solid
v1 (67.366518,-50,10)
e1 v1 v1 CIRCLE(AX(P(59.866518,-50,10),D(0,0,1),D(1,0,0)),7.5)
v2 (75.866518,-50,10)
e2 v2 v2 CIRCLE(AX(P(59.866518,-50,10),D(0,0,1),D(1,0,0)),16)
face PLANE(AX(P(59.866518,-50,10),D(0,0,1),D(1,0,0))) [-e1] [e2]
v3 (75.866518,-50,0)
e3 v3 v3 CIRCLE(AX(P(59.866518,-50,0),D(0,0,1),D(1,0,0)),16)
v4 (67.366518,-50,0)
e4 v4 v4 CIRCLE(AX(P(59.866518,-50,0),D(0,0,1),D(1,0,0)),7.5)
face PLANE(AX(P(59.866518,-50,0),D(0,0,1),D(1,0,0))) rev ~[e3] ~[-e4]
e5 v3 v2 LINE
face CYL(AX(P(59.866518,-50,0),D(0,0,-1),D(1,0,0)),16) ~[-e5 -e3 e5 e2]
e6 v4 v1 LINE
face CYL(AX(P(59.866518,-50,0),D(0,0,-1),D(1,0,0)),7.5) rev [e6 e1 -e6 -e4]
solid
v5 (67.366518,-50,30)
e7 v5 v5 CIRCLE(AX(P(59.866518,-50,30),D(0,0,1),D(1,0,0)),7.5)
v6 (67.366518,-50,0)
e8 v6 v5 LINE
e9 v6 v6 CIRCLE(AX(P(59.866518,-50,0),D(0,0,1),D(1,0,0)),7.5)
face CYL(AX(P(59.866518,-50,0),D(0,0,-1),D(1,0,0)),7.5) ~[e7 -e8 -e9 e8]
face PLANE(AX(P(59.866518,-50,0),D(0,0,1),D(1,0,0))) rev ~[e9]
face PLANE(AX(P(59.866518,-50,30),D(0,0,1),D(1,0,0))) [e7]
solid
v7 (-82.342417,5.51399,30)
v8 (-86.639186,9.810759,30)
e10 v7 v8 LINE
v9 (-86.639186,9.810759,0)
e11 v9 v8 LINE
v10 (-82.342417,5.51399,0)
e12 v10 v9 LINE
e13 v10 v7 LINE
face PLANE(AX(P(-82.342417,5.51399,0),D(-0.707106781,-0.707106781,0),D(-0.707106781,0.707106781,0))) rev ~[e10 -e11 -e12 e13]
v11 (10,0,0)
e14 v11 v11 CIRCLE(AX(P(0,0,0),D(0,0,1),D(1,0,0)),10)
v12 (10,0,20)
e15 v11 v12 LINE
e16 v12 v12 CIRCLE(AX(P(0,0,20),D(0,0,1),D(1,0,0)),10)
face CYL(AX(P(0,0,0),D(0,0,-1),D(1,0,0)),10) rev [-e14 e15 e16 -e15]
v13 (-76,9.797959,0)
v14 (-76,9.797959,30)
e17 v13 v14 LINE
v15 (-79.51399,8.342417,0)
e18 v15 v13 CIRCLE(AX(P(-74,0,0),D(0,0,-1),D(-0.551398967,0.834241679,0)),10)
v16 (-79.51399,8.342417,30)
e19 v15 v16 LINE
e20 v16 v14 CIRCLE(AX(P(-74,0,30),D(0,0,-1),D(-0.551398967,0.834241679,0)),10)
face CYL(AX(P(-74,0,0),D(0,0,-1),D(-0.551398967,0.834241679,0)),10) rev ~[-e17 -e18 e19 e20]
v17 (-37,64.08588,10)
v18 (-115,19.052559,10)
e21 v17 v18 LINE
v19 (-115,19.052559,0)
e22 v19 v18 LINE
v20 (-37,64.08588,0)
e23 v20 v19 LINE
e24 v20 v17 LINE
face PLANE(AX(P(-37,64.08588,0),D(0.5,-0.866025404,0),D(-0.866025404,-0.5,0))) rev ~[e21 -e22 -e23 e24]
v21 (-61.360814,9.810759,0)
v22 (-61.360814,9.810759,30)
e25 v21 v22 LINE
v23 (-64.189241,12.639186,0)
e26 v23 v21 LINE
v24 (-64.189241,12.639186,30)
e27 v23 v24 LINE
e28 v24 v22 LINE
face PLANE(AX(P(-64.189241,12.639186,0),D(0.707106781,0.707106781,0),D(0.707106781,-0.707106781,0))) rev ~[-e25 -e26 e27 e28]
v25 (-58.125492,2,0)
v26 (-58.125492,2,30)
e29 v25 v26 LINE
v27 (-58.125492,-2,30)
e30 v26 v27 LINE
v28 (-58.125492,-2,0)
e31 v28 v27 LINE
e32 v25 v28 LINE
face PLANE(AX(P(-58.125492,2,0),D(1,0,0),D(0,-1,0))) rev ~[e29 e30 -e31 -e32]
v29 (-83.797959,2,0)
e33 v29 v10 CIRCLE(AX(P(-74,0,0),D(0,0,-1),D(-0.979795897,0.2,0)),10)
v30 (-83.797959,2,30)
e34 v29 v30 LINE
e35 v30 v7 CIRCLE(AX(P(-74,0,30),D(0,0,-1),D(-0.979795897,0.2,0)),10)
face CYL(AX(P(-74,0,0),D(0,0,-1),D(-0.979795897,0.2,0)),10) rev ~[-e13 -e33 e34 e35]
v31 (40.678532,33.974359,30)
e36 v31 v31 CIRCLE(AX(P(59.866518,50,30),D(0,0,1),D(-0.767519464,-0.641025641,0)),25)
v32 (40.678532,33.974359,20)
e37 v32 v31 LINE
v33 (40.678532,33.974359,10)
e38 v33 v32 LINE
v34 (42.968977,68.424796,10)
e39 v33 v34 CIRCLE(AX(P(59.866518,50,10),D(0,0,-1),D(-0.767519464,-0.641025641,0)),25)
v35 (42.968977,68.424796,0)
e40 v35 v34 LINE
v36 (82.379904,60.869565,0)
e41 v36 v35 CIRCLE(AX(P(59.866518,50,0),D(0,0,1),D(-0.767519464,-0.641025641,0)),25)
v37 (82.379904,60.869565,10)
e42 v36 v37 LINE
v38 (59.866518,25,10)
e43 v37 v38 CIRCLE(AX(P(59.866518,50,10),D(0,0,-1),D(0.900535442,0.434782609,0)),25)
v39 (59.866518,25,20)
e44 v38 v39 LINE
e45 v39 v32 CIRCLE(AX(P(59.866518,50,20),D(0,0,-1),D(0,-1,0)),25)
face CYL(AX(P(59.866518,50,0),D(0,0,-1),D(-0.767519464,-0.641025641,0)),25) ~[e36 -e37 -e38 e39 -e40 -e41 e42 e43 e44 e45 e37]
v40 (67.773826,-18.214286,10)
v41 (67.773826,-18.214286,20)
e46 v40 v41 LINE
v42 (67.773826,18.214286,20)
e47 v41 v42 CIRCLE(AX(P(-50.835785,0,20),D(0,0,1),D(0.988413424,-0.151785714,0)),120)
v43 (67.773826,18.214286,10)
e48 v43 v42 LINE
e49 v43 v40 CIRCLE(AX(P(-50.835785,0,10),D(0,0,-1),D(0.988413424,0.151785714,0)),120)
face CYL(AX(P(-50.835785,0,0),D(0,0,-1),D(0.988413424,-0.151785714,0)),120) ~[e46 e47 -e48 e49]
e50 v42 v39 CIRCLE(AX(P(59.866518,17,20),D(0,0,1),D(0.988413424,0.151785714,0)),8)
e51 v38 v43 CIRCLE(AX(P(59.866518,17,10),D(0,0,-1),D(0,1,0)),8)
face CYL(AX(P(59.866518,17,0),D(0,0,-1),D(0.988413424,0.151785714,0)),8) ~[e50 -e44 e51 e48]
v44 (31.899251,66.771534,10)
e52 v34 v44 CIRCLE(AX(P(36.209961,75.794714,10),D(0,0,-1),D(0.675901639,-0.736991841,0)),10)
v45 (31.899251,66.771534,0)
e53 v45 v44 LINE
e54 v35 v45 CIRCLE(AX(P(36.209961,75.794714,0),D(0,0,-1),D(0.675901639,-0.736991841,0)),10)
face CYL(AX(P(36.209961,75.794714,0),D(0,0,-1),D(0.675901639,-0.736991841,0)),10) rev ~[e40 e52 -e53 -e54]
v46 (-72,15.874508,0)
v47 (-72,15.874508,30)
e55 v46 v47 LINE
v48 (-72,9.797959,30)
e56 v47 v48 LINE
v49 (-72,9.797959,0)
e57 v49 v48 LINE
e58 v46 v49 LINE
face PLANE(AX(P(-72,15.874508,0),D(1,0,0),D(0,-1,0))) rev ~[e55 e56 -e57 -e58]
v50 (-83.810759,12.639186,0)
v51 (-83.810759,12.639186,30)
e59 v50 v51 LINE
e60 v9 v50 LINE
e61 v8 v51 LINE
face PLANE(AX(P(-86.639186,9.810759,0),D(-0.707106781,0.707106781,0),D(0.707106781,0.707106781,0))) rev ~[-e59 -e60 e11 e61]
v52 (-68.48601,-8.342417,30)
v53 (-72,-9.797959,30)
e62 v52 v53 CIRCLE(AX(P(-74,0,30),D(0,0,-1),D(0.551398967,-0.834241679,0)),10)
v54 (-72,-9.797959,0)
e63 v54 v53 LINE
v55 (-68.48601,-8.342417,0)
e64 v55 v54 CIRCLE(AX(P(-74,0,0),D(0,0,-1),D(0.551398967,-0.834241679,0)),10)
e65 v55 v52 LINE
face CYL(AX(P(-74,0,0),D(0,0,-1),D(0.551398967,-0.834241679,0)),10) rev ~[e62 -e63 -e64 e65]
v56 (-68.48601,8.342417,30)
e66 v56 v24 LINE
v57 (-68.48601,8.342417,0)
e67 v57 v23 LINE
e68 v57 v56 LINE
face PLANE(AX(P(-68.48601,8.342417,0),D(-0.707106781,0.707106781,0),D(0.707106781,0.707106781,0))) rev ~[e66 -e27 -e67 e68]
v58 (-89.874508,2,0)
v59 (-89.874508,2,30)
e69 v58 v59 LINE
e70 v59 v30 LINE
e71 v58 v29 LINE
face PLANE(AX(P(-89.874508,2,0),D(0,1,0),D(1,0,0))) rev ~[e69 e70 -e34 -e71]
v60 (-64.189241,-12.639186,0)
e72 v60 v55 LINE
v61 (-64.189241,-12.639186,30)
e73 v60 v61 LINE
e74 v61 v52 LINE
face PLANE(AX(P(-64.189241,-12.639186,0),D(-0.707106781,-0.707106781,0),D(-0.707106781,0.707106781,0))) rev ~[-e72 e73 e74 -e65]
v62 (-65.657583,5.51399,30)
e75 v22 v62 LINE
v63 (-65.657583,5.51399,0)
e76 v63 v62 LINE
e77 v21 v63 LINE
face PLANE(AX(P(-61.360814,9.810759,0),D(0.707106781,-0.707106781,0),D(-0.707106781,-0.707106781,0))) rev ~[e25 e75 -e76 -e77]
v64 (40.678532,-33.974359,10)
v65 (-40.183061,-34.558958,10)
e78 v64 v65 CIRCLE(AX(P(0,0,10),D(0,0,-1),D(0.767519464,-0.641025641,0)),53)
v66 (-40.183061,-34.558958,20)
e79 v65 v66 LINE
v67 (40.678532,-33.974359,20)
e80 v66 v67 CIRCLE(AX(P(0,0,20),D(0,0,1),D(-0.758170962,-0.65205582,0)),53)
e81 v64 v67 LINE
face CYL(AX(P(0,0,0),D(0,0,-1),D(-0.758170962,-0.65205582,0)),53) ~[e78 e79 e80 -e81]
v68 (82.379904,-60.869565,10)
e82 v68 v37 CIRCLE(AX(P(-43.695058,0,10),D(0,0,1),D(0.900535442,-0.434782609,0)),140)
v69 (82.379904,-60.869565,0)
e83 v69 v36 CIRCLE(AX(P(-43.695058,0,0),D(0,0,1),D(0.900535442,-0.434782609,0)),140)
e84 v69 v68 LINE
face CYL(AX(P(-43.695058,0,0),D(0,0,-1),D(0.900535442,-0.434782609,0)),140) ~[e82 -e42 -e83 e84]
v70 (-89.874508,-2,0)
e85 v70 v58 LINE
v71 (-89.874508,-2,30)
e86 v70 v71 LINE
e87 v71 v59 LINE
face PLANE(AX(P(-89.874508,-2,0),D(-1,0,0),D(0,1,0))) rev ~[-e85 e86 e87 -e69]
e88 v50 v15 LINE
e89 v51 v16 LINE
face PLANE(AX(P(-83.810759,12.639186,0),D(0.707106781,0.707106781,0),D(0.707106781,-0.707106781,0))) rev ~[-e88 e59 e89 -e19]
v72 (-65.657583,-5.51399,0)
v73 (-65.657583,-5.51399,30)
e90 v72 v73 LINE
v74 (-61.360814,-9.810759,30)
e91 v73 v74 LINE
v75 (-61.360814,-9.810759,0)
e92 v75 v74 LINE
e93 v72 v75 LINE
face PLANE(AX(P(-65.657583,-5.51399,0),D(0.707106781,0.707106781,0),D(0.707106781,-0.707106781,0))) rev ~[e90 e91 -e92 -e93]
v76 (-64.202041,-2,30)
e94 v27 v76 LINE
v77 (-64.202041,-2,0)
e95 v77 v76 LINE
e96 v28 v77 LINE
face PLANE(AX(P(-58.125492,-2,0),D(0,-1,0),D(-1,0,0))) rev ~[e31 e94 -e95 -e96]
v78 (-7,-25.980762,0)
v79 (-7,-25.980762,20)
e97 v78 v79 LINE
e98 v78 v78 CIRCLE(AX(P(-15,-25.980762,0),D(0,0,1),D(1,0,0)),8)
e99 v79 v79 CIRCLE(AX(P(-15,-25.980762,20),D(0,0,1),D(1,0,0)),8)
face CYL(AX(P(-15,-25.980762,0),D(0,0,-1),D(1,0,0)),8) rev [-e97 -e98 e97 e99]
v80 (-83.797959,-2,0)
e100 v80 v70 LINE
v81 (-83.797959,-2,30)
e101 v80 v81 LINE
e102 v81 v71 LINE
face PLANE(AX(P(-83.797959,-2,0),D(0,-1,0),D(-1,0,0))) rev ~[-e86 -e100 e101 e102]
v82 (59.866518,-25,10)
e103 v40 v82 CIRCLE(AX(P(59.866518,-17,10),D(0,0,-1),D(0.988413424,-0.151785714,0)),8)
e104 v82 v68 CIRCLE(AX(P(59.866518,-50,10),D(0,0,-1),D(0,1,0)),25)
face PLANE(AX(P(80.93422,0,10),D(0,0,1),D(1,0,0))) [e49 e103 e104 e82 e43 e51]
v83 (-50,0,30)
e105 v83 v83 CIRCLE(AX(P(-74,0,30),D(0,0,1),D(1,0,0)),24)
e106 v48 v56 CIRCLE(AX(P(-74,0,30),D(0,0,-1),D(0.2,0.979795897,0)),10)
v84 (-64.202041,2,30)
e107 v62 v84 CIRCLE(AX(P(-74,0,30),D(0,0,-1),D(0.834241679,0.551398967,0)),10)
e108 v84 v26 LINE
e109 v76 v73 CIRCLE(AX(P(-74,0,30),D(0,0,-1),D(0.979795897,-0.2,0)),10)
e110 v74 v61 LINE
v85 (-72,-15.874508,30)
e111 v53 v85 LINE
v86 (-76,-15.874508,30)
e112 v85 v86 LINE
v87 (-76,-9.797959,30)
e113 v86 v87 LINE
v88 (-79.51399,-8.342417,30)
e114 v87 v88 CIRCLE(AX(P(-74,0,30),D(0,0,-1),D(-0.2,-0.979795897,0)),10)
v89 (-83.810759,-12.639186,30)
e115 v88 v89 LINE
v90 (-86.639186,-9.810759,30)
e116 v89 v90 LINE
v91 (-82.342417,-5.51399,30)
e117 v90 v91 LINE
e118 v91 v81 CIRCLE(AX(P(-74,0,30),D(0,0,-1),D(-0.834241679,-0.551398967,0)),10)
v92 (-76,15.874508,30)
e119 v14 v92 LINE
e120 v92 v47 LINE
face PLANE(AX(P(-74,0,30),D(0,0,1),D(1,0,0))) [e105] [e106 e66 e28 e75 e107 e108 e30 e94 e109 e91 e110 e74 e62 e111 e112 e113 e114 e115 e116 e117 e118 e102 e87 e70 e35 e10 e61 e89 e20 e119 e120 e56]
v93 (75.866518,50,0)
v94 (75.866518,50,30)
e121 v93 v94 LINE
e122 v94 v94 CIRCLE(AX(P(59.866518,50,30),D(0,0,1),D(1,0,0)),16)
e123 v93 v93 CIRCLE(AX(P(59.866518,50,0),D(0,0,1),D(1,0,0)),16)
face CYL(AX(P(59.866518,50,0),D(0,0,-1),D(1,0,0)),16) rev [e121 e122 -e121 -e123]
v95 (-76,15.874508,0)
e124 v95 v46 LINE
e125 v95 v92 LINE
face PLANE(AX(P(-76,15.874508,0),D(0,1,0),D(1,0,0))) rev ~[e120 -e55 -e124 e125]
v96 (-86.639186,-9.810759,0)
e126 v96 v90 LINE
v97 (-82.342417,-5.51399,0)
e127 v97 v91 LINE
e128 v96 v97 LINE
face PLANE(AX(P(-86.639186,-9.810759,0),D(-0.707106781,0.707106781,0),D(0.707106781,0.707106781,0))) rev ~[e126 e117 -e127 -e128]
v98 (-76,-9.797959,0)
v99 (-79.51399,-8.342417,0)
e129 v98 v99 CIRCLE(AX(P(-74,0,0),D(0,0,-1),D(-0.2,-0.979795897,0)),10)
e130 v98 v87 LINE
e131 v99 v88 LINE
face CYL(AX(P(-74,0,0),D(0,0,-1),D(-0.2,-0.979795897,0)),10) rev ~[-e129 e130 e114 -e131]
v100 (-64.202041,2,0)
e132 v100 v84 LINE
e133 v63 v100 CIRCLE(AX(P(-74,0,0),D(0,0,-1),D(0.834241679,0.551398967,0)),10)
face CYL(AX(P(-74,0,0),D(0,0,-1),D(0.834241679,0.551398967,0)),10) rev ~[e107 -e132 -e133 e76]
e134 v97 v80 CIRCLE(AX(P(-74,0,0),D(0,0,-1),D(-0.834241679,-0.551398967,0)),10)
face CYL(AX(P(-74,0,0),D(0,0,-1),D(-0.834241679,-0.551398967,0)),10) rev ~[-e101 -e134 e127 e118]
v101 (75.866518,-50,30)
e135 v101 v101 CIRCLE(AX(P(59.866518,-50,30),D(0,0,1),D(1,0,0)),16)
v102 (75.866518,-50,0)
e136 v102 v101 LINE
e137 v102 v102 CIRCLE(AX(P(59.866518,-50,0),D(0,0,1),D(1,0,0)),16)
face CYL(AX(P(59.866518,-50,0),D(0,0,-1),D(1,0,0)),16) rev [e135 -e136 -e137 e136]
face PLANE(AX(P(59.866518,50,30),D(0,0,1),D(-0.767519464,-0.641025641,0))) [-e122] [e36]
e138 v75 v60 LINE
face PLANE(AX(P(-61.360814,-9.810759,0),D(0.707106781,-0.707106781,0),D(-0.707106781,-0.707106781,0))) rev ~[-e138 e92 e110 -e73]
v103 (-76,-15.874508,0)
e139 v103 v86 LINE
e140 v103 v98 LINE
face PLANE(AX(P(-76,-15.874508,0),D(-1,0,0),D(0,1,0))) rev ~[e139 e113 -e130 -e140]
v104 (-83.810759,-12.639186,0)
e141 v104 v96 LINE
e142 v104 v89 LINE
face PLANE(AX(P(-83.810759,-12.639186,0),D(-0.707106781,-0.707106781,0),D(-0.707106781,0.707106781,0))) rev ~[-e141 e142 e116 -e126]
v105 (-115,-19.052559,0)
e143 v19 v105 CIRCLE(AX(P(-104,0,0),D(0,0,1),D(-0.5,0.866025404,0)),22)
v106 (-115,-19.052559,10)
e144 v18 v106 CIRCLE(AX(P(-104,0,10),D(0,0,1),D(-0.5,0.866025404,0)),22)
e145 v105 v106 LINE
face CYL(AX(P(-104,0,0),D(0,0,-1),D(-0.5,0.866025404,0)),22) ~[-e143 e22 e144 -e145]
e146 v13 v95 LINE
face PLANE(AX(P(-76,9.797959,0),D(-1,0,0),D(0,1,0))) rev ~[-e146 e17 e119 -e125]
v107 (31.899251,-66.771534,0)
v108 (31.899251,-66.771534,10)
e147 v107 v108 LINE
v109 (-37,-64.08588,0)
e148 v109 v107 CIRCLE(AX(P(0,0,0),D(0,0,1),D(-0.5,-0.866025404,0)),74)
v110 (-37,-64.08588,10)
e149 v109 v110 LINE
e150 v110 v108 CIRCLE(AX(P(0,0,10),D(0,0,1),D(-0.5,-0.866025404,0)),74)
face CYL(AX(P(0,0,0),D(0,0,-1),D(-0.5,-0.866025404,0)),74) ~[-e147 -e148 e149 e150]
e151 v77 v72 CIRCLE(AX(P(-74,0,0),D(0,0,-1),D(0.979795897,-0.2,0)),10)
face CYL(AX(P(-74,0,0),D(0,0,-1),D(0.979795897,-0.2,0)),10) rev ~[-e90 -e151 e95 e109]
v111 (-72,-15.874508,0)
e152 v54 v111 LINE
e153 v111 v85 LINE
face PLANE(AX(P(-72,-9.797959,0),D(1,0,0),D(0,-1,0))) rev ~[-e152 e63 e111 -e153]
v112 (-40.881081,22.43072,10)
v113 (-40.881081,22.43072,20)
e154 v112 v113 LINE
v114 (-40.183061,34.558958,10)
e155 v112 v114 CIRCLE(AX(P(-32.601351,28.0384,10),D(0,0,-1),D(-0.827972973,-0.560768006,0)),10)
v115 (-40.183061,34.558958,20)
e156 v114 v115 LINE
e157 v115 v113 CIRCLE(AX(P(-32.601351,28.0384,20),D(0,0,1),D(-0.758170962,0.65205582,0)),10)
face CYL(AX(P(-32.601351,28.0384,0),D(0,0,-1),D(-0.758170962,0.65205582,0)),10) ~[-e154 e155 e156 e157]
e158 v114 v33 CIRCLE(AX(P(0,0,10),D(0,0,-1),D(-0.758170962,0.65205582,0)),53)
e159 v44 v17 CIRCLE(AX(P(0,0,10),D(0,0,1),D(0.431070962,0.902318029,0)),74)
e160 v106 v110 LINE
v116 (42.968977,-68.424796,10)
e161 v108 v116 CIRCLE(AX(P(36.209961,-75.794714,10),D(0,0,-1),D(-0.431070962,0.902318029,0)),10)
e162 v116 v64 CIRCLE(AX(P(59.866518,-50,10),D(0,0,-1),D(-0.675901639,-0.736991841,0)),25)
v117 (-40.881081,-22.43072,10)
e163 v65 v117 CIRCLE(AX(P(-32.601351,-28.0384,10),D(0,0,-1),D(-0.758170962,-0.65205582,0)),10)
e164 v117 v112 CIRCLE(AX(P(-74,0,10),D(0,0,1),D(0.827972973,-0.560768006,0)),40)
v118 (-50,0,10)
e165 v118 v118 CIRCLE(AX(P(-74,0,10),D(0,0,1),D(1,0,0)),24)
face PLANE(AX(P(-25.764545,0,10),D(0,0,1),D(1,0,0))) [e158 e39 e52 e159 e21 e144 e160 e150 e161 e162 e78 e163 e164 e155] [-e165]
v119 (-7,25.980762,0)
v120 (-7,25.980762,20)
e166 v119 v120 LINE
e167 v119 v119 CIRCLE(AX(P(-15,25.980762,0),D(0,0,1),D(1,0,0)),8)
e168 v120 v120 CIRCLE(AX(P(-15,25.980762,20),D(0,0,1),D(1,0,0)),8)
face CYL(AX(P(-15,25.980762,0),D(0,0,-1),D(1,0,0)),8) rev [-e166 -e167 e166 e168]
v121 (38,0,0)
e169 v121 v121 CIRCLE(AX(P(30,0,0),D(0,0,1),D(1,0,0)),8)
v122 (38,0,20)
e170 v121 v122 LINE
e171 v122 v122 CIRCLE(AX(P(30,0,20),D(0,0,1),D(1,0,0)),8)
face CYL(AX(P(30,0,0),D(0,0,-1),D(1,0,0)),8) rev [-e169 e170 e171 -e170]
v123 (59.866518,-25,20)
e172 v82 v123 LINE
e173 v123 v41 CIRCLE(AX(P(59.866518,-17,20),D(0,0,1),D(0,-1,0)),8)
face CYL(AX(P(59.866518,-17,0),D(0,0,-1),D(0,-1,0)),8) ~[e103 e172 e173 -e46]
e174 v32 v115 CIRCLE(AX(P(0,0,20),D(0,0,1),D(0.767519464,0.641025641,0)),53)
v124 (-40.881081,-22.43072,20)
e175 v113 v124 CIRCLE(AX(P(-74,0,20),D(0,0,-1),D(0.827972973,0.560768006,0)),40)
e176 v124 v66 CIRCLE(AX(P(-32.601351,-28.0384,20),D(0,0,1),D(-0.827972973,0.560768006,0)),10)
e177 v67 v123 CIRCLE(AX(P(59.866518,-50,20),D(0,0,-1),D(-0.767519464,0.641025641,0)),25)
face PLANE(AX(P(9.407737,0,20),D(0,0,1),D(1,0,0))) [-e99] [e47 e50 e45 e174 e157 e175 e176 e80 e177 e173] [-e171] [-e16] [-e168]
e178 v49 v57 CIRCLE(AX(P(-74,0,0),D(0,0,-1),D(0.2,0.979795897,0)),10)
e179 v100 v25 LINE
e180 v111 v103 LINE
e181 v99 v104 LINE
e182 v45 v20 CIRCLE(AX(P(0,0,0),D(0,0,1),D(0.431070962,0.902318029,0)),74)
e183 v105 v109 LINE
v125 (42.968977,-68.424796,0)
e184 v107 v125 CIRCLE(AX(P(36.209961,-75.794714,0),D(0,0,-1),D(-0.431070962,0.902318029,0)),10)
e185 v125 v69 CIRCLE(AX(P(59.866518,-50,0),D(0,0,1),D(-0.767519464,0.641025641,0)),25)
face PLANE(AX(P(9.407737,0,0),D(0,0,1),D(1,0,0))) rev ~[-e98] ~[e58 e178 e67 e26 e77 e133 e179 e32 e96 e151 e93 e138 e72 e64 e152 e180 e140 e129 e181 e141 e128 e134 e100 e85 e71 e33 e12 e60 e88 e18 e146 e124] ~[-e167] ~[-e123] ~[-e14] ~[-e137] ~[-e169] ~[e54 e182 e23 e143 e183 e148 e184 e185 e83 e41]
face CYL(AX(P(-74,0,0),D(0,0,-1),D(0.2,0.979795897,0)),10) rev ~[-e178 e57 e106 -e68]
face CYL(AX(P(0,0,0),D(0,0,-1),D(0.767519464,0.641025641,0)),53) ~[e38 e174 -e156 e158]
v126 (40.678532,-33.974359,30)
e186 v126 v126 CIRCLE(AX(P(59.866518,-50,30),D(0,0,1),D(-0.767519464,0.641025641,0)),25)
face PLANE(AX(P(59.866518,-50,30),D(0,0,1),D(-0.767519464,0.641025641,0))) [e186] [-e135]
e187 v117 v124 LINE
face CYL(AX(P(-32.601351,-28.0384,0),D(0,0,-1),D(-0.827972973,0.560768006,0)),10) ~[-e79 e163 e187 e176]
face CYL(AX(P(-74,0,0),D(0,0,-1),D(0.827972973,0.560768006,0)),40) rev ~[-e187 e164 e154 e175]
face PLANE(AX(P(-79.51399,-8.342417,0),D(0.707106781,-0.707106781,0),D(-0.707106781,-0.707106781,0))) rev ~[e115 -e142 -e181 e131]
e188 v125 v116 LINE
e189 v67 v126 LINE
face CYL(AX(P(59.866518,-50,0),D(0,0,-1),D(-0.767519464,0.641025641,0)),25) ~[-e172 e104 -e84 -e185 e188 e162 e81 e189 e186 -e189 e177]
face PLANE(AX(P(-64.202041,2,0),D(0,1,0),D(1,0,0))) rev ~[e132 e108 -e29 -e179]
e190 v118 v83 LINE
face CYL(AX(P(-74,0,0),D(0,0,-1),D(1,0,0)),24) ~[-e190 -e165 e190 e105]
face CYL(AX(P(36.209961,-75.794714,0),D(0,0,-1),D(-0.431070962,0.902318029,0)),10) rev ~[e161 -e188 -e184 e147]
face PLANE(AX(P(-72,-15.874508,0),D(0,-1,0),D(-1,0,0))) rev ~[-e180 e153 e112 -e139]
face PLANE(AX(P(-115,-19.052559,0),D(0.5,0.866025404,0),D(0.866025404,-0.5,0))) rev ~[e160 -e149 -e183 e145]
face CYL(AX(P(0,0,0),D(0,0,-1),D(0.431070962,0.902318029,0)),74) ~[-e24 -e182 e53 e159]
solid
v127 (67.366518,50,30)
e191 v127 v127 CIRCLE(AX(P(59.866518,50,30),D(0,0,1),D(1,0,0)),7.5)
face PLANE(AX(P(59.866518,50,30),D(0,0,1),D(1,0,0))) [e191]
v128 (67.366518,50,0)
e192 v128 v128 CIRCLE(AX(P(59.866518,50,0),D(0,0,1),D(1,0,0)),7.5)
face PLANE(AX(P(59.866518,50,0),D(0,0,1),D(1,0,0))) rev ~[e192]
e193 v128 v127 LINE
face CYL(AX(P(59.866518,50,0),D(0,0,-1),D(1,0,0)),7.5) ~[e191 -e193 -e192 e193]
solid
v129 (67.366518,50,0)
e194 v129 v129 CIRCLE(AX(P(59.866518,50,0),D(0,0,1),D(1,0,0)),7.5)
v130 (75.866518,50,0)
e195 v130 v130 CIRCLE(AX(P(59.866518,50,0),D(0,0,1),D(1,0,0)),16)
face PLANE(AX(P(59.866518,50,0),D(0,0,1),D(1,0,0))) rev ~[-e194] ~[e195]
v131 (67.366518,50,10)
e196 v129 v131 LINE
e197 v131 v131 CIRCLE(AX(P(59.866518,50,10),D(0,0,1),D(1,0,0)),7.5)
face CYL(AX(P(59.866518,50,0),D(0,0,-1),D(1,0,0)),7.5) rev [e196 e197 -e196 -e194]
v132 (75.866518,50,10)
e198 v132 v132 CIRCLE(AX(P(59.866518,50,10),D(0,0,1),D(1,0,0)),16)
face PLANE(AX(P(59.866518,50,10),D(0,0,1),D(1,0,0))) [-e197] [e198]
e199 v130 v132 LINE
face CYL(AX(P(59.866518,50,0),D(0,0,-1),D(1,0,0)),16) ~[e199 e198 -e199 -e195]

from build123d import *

# Parameters (mm, degrees)
SKETCH_1_R        = 24
EXTRUDE_1_DEPTH   = 10
EXTRUDE_1_2_DEPTH = 10
SKETCH_1_R_2      = 16
SKETCH_1_R_3      = 7.5
EXTRUDE_1_3_DEPTH = 10
EXTRUDE_1_4_DEPTH = 10
SKETCH_1_3_R      = 8
SKETCH_1_3_R_2    = 10
EXTRUDE_2_DEPTH   = 20
SKETCH_1_4_R      = 24
SKETCH_1_4_R_2    = 25
SKETCH_1_4_R_3    = 16
SKETCH_1_4_R_4    = 7.5
EXTRUDE_3_DEPTH   = 30


with BuildPart() as part:
    # Эскиз1 → Бобышка-Вытянуть1 (new body)
    with BuildSketch(Plane.XY):
        with BuildLine():
            Line((-37, 64.08587988), (-115, 19.052558883))
            ThreePointArc((-115, 19.052558883), (-126, 0), (-115, -19.052558883))
            Line((-115, -19.052558883), (-37, -64.08587988))
            ThreePointArc((-37, -64.08587988), (-2.882289769, -73.9438463), (31.899251195, -66.771534153))
            ThreePointArc((31.899251195, -66.771534153), (37.687076323, -65.904409607), (42.968977208, -68.424796032))
            ThreePointArc((42.968977208, -68.424796032), (34.921589274, -51.658469616), (40.67853159, -33.974358974))
            ThreePointArc((40.67853159, -33.974358974), (0.383160449, -52.998614964), (-40.183060968, -34.55895848))
            ThreePointArc((-40.183060968, -34.55895848), (-42.584830472, -28.612982427), (-40.881081081, -22.430720221))
            ThreePointArc((-40.881081081, -22.430720221), (-34, 0), (-40.881081081, 22.430720221))
            ThreePointArc((-40.881081081, 22.430720221), (-42.584830472, 28.612982427), (-40.183060968, 34.55895848))
            ThreePointArc((-40.183060968, 34.55895848), (0.383160449, 52.998614964), (40.67853159, 33.974358974))
            ThreePointArc((40.67853159, 33.974358974), (34.921589274, 51.658469616), (42.968977208, 68.424796032))
            ThreePointArc((42.968977208, 68.424796032), (37.687076323, 65.904409607), (31.899251195, 66.771534153))
            ThreePointArc((31.899251195, 66.771534153), (-2.882289769, 73.9438463), (-37, 64.08587988))
        make_face()
        with Locations((-74, 0)):
            Circle(SKETCH_1_R, mode=Mode.SUBTRACT)
    extrude(amount=EXTRUDE_1_DEPTH)



with BuildPart() as body_2:
    # Эскиз1 → Extrude 1 2 (new body)
    with BuildSketch(Plane.XY):
        with BuildLine():
            ThreePointArc((82.379904251, -60.869565217), (96.304942302, 0), (82.379904251, 60.869565217))
            ThreePointArc((82.379904251, 60.869565217), (81.041257035, 36.709761673), (59.866518188, 25))
            ThreePointArc((59.866518188, 25), (65.076398911, 23.071008389), (67.773825581, 18.214285714))
            ThreePointArc((67.773825581, 18.214285714), (69.164214689, 0), (67.773825581, -18.214285714))
            ThreePointArc((67.773825581, -18.214285714), (65.076398911, -23.071008389), (59.866518188, -25))
            ThreePointArc((59.866518188, -25), (81.041257035, -36.709761673), (82.379904251, -60.869565217))
        make_face()
    extrude(amount=EXTRUDE_1_2_DEPTH)


with BuildPart() as body_3:
    # Эскиз1 → Extrude 1 3 (new body)
    with BuildSketch(Plane.XY):
        with Locations((59.866518188, 50)):
            Circle(SKETCH_1_R_2)
        with Locations((59.866518188, 50)):
            Circle(SKETCH_1_R_3, mode=Mode.SUBTRACT)
    extrude(amount=EXTRUDE_1_3_DEPTH)


with BuildPart() as body_4:
    # Эскиз1 → Extrude 1 4 (new body)
    with BuildSketch(Plane.XY):
        with Locations((59.866518188, -50)):
            Circle(SKETCH_1_R_2)
        with Locations((59.866518188, -50)):
            Circle(SKETCH_1_R_3, mode=Mode.SUBTRACT)
    extrude(amount=EXTRUDE_1_4_DEPTH)


with BuildPart() as part_1:
    add(part.part)

    add(body_2.part)  # Бобышка-Вытянуть2 merges body 2
    # Эскиз1<3> → Бобышка-Вытянуть2 (add)
    with BuildSketch(Plane.XY):
        with BuildLine():
            ThreePointArc((59.866518188, 25), (49.275036367, 27.354459317), (40.67853159, 33.974358974))
            ThreePointArc((40.67853159, 33.974358974), (0.383160449, 52.998614964), (-40.183060968, 34.55895848))
            ThreePointArc((-40.183060968, 34.55895848), (-42.584830472, 28.612982427), (-40.881081081, 22.430720221))
            ThreePointArc((-40.881081081, 22.430720221), (-34, 0), (-40.881081081, -22.430720221))
            ThreePointArc((-40.881081081, -22.430720221), (-42.584830472, -28.612982427), (-40.183060968, -34.55895848))
            ThreePointArc((-40.183060968, -34.55895848), (0.383160449, -52.998614964), (40.67853159, -33.974358974))
            ThreePointArc((40.67853159, -33.974358974), (49.275036367, -27.354459317), (59.866518188, -25))
            ThreePointArc((59.866518188, -25), (65.076398911, -23.071008389), (67.773825581, -18.214285714))
            ThreePointArc((67.773825581, -18.214285714), (69.164214689, 0), (67.773825581, 18.214285714))
            ThreePointArc((67.773825581, 18.214285714), (65.076398911, 23.071008389), (59.866518188, 25))
        make_face()
        with Locations((-15, -25.980762114)):
            Circle(SKETCH_1_3_R, mode=Mode.SUBTRACT)
        with Locations((-15, 25.980762114)):
            Circle(SKETCH_1_3_R, mode=Mode.SUBTRACT)
        Circle(SKETCH_1_3_R_2, mode=Mode.SUBTRACT)
        with Locations((30, 0)):
            Circle(SKETCH_1_3_R, mode=Mode.SUBTRACT)
    extrude(amount=EXTRUDE_2_DEPTH)

    # Эскиз1<4> → Бобышка-Вытянуть3 (add)
    # profile 1 of 5: a face of its own
    with BuildSketch(Plane.XY):
        with Locations((-74, 0)):
            Circle(SKETCH_1_4_R)
        with BuildLine():
            Line((-82.342416793, 5.513989668), (-86.639185723, 9.810758598))
            Line((-86.639185723, 9.810758598), (-83.810758598, 12.639185723))
            Line((-83.810758598, 12.639185723), (-79.513989668, 8.342416793))
            ThreePointArc((-79.513989668, 8.342416793), (-77.826834324, 9.238795325), (-76, 9.797958971))
            Line((-76, 9.797958971), (-76, 15.874507866))
            Line((-76, 15.874507866), (-72, 15.874507866))
            Line((-72, 15.874507866), (-72, 9.797958971))
            ThreePointArc((-72, 9.797958971), (-70.173165676, 9.238795325), (-68.486010332, 8.342416793))
            Line((-68.486010332, 8.342416793), (-64.189241402, 12.639185723))
            Line((-64.189241402, 12.639185723), (-61.360814277, 9.810758598))
            Line((-61.360814277, 9.810758598), (-65.657583207, 5.513989668))
            ThreePointArc((-65.657583207, 5.513989668), (-64.761204675, 3.826834324), (-64.202041029, 2))
            Line((-64.202041029, 2), (-58.125492134, 2))
            Line((-58.125492134, 2), (-58.125492134, -2))
            Line((-58.125492134, -2), (-64.202041029, -2))
            ThreePointArc((-64.202041029, -2), (-64.761204675, -3.826834324), (-65.657583207, -5.513989668))
            Line((-65.657583207, -5.513989668), (-61.360814277, -9.810758598))
            Line((-61.360814277, -9.810758598), (-64.189241402, -12.639185723))
            Line((-64.189241402, -12.639185723), (-68.486010332, -8.342416793))
            ThreePointArc((-68.486010332, -8.342416793), (-70.173165676, -9.238795325), (-72, -9.797958971))
            Line((-72, -9.797958971), (-72, -15.874507866))
            Line((-72, -15.874507866), (-76, -15.874507866))
            Line((-76, -15.874507866), (-76, -9.797958971))
            ThreePointArc((-76, -9.797958971), (-77.826834324, -9.238795325), (-79.513989668, -8.342416793))
            Line((-79.513989668, -8.342416793), (-83.810758598, -12.639185723))
            Line((-83.810758598, -12.639185723), (-86.639185723, -9.810758598))
            Line((-86.639185723, -9.810758598), (-82.342416793, -5.513989668))
            ThreePointArc((-82.342416793, -5.513989668), (-83.238795325, -3.826834324), (-83.797958971, -2))
            Line((-83.797958971, -2), (-89.874507866, -2))
            Line((-89.874507866, -2), (-89.874507866, 2))
            Line((-89.874507866, 2), (-83.797958971, 2))
            ThreePointArc((-83.797958971, 2), (-83.238795325, 3.826834324), (-82.342416793, 5.513989668))
        make_face(mode=Mode.SUBTRACT)
    # profile 2 of 5: a face of its own
    with BuildSketch(Plane.XY):
        with Locations(Location((59.866518188, -50, 0), (0, 0, 140.13165845))):
            Circle(SKETCH_1_4_R_2)
        with Locations((59.866518188, -50)):
            Circle(SKETCH_1_4_R_3, mode=Mode.SUBTRACT)
    # profile 3 of 5: a face of its own
    with BuildSketch(Plane.XY):
        with Locations(Location((59.866518188, 50, 0), (0, 0, 219.86834155))):
            Circle(SKETCH_1_4_R_2)
        with Locations((59.866518188, 50)):
            Circle(SKETCH_1_4_R_3, mode=Mode.SUBTRACT)
    # profile 4 of 5: a face of its own
    with BuildSketch(Plane.XY):
        with Locations((59.866518188, 50)):
            Circle(SKETCH_1_4_R_4)
    # profile 5 of 5: a face of its own
    with BuildSketch(Plane.XY):
        with Locations((59.866518188, -50)):
            Circle(SKETCH_1_4_R_4)
    extrude(amount=EXTRUDE_3_DEPTH)


with BuildPart() as extrude_3_piece_1:
    # of the separate pieces the step leaves, piece 1, a body of its own (extrude_3_pieces)
    add(part_1.part.solids().sort_by_distance((-37, 64.08587988, 0))[0])


with BuildPart() as extrude_3_piece_2:
    # of the separate pieces the step leaves, piece 2, a body of its own (extrude_3_pieces)
    add(part_1.part.solids().sort_by_distance((67.366518188, 50, 0))[0])


with BuildPart() as extrude_3_piece_3:
    # of the separate pieces the step leaves, piece 3, a body of its own (extrude_3_pieces)
    add(part_1.part.solids().sort_by_distance((67.366518188, -50, 0))[0])


solid = Compound([body_3.part, body_4.part, extrude_3_piece_1.part, extrude_3_piece_2.part, extrude_3_piece_3.part])
